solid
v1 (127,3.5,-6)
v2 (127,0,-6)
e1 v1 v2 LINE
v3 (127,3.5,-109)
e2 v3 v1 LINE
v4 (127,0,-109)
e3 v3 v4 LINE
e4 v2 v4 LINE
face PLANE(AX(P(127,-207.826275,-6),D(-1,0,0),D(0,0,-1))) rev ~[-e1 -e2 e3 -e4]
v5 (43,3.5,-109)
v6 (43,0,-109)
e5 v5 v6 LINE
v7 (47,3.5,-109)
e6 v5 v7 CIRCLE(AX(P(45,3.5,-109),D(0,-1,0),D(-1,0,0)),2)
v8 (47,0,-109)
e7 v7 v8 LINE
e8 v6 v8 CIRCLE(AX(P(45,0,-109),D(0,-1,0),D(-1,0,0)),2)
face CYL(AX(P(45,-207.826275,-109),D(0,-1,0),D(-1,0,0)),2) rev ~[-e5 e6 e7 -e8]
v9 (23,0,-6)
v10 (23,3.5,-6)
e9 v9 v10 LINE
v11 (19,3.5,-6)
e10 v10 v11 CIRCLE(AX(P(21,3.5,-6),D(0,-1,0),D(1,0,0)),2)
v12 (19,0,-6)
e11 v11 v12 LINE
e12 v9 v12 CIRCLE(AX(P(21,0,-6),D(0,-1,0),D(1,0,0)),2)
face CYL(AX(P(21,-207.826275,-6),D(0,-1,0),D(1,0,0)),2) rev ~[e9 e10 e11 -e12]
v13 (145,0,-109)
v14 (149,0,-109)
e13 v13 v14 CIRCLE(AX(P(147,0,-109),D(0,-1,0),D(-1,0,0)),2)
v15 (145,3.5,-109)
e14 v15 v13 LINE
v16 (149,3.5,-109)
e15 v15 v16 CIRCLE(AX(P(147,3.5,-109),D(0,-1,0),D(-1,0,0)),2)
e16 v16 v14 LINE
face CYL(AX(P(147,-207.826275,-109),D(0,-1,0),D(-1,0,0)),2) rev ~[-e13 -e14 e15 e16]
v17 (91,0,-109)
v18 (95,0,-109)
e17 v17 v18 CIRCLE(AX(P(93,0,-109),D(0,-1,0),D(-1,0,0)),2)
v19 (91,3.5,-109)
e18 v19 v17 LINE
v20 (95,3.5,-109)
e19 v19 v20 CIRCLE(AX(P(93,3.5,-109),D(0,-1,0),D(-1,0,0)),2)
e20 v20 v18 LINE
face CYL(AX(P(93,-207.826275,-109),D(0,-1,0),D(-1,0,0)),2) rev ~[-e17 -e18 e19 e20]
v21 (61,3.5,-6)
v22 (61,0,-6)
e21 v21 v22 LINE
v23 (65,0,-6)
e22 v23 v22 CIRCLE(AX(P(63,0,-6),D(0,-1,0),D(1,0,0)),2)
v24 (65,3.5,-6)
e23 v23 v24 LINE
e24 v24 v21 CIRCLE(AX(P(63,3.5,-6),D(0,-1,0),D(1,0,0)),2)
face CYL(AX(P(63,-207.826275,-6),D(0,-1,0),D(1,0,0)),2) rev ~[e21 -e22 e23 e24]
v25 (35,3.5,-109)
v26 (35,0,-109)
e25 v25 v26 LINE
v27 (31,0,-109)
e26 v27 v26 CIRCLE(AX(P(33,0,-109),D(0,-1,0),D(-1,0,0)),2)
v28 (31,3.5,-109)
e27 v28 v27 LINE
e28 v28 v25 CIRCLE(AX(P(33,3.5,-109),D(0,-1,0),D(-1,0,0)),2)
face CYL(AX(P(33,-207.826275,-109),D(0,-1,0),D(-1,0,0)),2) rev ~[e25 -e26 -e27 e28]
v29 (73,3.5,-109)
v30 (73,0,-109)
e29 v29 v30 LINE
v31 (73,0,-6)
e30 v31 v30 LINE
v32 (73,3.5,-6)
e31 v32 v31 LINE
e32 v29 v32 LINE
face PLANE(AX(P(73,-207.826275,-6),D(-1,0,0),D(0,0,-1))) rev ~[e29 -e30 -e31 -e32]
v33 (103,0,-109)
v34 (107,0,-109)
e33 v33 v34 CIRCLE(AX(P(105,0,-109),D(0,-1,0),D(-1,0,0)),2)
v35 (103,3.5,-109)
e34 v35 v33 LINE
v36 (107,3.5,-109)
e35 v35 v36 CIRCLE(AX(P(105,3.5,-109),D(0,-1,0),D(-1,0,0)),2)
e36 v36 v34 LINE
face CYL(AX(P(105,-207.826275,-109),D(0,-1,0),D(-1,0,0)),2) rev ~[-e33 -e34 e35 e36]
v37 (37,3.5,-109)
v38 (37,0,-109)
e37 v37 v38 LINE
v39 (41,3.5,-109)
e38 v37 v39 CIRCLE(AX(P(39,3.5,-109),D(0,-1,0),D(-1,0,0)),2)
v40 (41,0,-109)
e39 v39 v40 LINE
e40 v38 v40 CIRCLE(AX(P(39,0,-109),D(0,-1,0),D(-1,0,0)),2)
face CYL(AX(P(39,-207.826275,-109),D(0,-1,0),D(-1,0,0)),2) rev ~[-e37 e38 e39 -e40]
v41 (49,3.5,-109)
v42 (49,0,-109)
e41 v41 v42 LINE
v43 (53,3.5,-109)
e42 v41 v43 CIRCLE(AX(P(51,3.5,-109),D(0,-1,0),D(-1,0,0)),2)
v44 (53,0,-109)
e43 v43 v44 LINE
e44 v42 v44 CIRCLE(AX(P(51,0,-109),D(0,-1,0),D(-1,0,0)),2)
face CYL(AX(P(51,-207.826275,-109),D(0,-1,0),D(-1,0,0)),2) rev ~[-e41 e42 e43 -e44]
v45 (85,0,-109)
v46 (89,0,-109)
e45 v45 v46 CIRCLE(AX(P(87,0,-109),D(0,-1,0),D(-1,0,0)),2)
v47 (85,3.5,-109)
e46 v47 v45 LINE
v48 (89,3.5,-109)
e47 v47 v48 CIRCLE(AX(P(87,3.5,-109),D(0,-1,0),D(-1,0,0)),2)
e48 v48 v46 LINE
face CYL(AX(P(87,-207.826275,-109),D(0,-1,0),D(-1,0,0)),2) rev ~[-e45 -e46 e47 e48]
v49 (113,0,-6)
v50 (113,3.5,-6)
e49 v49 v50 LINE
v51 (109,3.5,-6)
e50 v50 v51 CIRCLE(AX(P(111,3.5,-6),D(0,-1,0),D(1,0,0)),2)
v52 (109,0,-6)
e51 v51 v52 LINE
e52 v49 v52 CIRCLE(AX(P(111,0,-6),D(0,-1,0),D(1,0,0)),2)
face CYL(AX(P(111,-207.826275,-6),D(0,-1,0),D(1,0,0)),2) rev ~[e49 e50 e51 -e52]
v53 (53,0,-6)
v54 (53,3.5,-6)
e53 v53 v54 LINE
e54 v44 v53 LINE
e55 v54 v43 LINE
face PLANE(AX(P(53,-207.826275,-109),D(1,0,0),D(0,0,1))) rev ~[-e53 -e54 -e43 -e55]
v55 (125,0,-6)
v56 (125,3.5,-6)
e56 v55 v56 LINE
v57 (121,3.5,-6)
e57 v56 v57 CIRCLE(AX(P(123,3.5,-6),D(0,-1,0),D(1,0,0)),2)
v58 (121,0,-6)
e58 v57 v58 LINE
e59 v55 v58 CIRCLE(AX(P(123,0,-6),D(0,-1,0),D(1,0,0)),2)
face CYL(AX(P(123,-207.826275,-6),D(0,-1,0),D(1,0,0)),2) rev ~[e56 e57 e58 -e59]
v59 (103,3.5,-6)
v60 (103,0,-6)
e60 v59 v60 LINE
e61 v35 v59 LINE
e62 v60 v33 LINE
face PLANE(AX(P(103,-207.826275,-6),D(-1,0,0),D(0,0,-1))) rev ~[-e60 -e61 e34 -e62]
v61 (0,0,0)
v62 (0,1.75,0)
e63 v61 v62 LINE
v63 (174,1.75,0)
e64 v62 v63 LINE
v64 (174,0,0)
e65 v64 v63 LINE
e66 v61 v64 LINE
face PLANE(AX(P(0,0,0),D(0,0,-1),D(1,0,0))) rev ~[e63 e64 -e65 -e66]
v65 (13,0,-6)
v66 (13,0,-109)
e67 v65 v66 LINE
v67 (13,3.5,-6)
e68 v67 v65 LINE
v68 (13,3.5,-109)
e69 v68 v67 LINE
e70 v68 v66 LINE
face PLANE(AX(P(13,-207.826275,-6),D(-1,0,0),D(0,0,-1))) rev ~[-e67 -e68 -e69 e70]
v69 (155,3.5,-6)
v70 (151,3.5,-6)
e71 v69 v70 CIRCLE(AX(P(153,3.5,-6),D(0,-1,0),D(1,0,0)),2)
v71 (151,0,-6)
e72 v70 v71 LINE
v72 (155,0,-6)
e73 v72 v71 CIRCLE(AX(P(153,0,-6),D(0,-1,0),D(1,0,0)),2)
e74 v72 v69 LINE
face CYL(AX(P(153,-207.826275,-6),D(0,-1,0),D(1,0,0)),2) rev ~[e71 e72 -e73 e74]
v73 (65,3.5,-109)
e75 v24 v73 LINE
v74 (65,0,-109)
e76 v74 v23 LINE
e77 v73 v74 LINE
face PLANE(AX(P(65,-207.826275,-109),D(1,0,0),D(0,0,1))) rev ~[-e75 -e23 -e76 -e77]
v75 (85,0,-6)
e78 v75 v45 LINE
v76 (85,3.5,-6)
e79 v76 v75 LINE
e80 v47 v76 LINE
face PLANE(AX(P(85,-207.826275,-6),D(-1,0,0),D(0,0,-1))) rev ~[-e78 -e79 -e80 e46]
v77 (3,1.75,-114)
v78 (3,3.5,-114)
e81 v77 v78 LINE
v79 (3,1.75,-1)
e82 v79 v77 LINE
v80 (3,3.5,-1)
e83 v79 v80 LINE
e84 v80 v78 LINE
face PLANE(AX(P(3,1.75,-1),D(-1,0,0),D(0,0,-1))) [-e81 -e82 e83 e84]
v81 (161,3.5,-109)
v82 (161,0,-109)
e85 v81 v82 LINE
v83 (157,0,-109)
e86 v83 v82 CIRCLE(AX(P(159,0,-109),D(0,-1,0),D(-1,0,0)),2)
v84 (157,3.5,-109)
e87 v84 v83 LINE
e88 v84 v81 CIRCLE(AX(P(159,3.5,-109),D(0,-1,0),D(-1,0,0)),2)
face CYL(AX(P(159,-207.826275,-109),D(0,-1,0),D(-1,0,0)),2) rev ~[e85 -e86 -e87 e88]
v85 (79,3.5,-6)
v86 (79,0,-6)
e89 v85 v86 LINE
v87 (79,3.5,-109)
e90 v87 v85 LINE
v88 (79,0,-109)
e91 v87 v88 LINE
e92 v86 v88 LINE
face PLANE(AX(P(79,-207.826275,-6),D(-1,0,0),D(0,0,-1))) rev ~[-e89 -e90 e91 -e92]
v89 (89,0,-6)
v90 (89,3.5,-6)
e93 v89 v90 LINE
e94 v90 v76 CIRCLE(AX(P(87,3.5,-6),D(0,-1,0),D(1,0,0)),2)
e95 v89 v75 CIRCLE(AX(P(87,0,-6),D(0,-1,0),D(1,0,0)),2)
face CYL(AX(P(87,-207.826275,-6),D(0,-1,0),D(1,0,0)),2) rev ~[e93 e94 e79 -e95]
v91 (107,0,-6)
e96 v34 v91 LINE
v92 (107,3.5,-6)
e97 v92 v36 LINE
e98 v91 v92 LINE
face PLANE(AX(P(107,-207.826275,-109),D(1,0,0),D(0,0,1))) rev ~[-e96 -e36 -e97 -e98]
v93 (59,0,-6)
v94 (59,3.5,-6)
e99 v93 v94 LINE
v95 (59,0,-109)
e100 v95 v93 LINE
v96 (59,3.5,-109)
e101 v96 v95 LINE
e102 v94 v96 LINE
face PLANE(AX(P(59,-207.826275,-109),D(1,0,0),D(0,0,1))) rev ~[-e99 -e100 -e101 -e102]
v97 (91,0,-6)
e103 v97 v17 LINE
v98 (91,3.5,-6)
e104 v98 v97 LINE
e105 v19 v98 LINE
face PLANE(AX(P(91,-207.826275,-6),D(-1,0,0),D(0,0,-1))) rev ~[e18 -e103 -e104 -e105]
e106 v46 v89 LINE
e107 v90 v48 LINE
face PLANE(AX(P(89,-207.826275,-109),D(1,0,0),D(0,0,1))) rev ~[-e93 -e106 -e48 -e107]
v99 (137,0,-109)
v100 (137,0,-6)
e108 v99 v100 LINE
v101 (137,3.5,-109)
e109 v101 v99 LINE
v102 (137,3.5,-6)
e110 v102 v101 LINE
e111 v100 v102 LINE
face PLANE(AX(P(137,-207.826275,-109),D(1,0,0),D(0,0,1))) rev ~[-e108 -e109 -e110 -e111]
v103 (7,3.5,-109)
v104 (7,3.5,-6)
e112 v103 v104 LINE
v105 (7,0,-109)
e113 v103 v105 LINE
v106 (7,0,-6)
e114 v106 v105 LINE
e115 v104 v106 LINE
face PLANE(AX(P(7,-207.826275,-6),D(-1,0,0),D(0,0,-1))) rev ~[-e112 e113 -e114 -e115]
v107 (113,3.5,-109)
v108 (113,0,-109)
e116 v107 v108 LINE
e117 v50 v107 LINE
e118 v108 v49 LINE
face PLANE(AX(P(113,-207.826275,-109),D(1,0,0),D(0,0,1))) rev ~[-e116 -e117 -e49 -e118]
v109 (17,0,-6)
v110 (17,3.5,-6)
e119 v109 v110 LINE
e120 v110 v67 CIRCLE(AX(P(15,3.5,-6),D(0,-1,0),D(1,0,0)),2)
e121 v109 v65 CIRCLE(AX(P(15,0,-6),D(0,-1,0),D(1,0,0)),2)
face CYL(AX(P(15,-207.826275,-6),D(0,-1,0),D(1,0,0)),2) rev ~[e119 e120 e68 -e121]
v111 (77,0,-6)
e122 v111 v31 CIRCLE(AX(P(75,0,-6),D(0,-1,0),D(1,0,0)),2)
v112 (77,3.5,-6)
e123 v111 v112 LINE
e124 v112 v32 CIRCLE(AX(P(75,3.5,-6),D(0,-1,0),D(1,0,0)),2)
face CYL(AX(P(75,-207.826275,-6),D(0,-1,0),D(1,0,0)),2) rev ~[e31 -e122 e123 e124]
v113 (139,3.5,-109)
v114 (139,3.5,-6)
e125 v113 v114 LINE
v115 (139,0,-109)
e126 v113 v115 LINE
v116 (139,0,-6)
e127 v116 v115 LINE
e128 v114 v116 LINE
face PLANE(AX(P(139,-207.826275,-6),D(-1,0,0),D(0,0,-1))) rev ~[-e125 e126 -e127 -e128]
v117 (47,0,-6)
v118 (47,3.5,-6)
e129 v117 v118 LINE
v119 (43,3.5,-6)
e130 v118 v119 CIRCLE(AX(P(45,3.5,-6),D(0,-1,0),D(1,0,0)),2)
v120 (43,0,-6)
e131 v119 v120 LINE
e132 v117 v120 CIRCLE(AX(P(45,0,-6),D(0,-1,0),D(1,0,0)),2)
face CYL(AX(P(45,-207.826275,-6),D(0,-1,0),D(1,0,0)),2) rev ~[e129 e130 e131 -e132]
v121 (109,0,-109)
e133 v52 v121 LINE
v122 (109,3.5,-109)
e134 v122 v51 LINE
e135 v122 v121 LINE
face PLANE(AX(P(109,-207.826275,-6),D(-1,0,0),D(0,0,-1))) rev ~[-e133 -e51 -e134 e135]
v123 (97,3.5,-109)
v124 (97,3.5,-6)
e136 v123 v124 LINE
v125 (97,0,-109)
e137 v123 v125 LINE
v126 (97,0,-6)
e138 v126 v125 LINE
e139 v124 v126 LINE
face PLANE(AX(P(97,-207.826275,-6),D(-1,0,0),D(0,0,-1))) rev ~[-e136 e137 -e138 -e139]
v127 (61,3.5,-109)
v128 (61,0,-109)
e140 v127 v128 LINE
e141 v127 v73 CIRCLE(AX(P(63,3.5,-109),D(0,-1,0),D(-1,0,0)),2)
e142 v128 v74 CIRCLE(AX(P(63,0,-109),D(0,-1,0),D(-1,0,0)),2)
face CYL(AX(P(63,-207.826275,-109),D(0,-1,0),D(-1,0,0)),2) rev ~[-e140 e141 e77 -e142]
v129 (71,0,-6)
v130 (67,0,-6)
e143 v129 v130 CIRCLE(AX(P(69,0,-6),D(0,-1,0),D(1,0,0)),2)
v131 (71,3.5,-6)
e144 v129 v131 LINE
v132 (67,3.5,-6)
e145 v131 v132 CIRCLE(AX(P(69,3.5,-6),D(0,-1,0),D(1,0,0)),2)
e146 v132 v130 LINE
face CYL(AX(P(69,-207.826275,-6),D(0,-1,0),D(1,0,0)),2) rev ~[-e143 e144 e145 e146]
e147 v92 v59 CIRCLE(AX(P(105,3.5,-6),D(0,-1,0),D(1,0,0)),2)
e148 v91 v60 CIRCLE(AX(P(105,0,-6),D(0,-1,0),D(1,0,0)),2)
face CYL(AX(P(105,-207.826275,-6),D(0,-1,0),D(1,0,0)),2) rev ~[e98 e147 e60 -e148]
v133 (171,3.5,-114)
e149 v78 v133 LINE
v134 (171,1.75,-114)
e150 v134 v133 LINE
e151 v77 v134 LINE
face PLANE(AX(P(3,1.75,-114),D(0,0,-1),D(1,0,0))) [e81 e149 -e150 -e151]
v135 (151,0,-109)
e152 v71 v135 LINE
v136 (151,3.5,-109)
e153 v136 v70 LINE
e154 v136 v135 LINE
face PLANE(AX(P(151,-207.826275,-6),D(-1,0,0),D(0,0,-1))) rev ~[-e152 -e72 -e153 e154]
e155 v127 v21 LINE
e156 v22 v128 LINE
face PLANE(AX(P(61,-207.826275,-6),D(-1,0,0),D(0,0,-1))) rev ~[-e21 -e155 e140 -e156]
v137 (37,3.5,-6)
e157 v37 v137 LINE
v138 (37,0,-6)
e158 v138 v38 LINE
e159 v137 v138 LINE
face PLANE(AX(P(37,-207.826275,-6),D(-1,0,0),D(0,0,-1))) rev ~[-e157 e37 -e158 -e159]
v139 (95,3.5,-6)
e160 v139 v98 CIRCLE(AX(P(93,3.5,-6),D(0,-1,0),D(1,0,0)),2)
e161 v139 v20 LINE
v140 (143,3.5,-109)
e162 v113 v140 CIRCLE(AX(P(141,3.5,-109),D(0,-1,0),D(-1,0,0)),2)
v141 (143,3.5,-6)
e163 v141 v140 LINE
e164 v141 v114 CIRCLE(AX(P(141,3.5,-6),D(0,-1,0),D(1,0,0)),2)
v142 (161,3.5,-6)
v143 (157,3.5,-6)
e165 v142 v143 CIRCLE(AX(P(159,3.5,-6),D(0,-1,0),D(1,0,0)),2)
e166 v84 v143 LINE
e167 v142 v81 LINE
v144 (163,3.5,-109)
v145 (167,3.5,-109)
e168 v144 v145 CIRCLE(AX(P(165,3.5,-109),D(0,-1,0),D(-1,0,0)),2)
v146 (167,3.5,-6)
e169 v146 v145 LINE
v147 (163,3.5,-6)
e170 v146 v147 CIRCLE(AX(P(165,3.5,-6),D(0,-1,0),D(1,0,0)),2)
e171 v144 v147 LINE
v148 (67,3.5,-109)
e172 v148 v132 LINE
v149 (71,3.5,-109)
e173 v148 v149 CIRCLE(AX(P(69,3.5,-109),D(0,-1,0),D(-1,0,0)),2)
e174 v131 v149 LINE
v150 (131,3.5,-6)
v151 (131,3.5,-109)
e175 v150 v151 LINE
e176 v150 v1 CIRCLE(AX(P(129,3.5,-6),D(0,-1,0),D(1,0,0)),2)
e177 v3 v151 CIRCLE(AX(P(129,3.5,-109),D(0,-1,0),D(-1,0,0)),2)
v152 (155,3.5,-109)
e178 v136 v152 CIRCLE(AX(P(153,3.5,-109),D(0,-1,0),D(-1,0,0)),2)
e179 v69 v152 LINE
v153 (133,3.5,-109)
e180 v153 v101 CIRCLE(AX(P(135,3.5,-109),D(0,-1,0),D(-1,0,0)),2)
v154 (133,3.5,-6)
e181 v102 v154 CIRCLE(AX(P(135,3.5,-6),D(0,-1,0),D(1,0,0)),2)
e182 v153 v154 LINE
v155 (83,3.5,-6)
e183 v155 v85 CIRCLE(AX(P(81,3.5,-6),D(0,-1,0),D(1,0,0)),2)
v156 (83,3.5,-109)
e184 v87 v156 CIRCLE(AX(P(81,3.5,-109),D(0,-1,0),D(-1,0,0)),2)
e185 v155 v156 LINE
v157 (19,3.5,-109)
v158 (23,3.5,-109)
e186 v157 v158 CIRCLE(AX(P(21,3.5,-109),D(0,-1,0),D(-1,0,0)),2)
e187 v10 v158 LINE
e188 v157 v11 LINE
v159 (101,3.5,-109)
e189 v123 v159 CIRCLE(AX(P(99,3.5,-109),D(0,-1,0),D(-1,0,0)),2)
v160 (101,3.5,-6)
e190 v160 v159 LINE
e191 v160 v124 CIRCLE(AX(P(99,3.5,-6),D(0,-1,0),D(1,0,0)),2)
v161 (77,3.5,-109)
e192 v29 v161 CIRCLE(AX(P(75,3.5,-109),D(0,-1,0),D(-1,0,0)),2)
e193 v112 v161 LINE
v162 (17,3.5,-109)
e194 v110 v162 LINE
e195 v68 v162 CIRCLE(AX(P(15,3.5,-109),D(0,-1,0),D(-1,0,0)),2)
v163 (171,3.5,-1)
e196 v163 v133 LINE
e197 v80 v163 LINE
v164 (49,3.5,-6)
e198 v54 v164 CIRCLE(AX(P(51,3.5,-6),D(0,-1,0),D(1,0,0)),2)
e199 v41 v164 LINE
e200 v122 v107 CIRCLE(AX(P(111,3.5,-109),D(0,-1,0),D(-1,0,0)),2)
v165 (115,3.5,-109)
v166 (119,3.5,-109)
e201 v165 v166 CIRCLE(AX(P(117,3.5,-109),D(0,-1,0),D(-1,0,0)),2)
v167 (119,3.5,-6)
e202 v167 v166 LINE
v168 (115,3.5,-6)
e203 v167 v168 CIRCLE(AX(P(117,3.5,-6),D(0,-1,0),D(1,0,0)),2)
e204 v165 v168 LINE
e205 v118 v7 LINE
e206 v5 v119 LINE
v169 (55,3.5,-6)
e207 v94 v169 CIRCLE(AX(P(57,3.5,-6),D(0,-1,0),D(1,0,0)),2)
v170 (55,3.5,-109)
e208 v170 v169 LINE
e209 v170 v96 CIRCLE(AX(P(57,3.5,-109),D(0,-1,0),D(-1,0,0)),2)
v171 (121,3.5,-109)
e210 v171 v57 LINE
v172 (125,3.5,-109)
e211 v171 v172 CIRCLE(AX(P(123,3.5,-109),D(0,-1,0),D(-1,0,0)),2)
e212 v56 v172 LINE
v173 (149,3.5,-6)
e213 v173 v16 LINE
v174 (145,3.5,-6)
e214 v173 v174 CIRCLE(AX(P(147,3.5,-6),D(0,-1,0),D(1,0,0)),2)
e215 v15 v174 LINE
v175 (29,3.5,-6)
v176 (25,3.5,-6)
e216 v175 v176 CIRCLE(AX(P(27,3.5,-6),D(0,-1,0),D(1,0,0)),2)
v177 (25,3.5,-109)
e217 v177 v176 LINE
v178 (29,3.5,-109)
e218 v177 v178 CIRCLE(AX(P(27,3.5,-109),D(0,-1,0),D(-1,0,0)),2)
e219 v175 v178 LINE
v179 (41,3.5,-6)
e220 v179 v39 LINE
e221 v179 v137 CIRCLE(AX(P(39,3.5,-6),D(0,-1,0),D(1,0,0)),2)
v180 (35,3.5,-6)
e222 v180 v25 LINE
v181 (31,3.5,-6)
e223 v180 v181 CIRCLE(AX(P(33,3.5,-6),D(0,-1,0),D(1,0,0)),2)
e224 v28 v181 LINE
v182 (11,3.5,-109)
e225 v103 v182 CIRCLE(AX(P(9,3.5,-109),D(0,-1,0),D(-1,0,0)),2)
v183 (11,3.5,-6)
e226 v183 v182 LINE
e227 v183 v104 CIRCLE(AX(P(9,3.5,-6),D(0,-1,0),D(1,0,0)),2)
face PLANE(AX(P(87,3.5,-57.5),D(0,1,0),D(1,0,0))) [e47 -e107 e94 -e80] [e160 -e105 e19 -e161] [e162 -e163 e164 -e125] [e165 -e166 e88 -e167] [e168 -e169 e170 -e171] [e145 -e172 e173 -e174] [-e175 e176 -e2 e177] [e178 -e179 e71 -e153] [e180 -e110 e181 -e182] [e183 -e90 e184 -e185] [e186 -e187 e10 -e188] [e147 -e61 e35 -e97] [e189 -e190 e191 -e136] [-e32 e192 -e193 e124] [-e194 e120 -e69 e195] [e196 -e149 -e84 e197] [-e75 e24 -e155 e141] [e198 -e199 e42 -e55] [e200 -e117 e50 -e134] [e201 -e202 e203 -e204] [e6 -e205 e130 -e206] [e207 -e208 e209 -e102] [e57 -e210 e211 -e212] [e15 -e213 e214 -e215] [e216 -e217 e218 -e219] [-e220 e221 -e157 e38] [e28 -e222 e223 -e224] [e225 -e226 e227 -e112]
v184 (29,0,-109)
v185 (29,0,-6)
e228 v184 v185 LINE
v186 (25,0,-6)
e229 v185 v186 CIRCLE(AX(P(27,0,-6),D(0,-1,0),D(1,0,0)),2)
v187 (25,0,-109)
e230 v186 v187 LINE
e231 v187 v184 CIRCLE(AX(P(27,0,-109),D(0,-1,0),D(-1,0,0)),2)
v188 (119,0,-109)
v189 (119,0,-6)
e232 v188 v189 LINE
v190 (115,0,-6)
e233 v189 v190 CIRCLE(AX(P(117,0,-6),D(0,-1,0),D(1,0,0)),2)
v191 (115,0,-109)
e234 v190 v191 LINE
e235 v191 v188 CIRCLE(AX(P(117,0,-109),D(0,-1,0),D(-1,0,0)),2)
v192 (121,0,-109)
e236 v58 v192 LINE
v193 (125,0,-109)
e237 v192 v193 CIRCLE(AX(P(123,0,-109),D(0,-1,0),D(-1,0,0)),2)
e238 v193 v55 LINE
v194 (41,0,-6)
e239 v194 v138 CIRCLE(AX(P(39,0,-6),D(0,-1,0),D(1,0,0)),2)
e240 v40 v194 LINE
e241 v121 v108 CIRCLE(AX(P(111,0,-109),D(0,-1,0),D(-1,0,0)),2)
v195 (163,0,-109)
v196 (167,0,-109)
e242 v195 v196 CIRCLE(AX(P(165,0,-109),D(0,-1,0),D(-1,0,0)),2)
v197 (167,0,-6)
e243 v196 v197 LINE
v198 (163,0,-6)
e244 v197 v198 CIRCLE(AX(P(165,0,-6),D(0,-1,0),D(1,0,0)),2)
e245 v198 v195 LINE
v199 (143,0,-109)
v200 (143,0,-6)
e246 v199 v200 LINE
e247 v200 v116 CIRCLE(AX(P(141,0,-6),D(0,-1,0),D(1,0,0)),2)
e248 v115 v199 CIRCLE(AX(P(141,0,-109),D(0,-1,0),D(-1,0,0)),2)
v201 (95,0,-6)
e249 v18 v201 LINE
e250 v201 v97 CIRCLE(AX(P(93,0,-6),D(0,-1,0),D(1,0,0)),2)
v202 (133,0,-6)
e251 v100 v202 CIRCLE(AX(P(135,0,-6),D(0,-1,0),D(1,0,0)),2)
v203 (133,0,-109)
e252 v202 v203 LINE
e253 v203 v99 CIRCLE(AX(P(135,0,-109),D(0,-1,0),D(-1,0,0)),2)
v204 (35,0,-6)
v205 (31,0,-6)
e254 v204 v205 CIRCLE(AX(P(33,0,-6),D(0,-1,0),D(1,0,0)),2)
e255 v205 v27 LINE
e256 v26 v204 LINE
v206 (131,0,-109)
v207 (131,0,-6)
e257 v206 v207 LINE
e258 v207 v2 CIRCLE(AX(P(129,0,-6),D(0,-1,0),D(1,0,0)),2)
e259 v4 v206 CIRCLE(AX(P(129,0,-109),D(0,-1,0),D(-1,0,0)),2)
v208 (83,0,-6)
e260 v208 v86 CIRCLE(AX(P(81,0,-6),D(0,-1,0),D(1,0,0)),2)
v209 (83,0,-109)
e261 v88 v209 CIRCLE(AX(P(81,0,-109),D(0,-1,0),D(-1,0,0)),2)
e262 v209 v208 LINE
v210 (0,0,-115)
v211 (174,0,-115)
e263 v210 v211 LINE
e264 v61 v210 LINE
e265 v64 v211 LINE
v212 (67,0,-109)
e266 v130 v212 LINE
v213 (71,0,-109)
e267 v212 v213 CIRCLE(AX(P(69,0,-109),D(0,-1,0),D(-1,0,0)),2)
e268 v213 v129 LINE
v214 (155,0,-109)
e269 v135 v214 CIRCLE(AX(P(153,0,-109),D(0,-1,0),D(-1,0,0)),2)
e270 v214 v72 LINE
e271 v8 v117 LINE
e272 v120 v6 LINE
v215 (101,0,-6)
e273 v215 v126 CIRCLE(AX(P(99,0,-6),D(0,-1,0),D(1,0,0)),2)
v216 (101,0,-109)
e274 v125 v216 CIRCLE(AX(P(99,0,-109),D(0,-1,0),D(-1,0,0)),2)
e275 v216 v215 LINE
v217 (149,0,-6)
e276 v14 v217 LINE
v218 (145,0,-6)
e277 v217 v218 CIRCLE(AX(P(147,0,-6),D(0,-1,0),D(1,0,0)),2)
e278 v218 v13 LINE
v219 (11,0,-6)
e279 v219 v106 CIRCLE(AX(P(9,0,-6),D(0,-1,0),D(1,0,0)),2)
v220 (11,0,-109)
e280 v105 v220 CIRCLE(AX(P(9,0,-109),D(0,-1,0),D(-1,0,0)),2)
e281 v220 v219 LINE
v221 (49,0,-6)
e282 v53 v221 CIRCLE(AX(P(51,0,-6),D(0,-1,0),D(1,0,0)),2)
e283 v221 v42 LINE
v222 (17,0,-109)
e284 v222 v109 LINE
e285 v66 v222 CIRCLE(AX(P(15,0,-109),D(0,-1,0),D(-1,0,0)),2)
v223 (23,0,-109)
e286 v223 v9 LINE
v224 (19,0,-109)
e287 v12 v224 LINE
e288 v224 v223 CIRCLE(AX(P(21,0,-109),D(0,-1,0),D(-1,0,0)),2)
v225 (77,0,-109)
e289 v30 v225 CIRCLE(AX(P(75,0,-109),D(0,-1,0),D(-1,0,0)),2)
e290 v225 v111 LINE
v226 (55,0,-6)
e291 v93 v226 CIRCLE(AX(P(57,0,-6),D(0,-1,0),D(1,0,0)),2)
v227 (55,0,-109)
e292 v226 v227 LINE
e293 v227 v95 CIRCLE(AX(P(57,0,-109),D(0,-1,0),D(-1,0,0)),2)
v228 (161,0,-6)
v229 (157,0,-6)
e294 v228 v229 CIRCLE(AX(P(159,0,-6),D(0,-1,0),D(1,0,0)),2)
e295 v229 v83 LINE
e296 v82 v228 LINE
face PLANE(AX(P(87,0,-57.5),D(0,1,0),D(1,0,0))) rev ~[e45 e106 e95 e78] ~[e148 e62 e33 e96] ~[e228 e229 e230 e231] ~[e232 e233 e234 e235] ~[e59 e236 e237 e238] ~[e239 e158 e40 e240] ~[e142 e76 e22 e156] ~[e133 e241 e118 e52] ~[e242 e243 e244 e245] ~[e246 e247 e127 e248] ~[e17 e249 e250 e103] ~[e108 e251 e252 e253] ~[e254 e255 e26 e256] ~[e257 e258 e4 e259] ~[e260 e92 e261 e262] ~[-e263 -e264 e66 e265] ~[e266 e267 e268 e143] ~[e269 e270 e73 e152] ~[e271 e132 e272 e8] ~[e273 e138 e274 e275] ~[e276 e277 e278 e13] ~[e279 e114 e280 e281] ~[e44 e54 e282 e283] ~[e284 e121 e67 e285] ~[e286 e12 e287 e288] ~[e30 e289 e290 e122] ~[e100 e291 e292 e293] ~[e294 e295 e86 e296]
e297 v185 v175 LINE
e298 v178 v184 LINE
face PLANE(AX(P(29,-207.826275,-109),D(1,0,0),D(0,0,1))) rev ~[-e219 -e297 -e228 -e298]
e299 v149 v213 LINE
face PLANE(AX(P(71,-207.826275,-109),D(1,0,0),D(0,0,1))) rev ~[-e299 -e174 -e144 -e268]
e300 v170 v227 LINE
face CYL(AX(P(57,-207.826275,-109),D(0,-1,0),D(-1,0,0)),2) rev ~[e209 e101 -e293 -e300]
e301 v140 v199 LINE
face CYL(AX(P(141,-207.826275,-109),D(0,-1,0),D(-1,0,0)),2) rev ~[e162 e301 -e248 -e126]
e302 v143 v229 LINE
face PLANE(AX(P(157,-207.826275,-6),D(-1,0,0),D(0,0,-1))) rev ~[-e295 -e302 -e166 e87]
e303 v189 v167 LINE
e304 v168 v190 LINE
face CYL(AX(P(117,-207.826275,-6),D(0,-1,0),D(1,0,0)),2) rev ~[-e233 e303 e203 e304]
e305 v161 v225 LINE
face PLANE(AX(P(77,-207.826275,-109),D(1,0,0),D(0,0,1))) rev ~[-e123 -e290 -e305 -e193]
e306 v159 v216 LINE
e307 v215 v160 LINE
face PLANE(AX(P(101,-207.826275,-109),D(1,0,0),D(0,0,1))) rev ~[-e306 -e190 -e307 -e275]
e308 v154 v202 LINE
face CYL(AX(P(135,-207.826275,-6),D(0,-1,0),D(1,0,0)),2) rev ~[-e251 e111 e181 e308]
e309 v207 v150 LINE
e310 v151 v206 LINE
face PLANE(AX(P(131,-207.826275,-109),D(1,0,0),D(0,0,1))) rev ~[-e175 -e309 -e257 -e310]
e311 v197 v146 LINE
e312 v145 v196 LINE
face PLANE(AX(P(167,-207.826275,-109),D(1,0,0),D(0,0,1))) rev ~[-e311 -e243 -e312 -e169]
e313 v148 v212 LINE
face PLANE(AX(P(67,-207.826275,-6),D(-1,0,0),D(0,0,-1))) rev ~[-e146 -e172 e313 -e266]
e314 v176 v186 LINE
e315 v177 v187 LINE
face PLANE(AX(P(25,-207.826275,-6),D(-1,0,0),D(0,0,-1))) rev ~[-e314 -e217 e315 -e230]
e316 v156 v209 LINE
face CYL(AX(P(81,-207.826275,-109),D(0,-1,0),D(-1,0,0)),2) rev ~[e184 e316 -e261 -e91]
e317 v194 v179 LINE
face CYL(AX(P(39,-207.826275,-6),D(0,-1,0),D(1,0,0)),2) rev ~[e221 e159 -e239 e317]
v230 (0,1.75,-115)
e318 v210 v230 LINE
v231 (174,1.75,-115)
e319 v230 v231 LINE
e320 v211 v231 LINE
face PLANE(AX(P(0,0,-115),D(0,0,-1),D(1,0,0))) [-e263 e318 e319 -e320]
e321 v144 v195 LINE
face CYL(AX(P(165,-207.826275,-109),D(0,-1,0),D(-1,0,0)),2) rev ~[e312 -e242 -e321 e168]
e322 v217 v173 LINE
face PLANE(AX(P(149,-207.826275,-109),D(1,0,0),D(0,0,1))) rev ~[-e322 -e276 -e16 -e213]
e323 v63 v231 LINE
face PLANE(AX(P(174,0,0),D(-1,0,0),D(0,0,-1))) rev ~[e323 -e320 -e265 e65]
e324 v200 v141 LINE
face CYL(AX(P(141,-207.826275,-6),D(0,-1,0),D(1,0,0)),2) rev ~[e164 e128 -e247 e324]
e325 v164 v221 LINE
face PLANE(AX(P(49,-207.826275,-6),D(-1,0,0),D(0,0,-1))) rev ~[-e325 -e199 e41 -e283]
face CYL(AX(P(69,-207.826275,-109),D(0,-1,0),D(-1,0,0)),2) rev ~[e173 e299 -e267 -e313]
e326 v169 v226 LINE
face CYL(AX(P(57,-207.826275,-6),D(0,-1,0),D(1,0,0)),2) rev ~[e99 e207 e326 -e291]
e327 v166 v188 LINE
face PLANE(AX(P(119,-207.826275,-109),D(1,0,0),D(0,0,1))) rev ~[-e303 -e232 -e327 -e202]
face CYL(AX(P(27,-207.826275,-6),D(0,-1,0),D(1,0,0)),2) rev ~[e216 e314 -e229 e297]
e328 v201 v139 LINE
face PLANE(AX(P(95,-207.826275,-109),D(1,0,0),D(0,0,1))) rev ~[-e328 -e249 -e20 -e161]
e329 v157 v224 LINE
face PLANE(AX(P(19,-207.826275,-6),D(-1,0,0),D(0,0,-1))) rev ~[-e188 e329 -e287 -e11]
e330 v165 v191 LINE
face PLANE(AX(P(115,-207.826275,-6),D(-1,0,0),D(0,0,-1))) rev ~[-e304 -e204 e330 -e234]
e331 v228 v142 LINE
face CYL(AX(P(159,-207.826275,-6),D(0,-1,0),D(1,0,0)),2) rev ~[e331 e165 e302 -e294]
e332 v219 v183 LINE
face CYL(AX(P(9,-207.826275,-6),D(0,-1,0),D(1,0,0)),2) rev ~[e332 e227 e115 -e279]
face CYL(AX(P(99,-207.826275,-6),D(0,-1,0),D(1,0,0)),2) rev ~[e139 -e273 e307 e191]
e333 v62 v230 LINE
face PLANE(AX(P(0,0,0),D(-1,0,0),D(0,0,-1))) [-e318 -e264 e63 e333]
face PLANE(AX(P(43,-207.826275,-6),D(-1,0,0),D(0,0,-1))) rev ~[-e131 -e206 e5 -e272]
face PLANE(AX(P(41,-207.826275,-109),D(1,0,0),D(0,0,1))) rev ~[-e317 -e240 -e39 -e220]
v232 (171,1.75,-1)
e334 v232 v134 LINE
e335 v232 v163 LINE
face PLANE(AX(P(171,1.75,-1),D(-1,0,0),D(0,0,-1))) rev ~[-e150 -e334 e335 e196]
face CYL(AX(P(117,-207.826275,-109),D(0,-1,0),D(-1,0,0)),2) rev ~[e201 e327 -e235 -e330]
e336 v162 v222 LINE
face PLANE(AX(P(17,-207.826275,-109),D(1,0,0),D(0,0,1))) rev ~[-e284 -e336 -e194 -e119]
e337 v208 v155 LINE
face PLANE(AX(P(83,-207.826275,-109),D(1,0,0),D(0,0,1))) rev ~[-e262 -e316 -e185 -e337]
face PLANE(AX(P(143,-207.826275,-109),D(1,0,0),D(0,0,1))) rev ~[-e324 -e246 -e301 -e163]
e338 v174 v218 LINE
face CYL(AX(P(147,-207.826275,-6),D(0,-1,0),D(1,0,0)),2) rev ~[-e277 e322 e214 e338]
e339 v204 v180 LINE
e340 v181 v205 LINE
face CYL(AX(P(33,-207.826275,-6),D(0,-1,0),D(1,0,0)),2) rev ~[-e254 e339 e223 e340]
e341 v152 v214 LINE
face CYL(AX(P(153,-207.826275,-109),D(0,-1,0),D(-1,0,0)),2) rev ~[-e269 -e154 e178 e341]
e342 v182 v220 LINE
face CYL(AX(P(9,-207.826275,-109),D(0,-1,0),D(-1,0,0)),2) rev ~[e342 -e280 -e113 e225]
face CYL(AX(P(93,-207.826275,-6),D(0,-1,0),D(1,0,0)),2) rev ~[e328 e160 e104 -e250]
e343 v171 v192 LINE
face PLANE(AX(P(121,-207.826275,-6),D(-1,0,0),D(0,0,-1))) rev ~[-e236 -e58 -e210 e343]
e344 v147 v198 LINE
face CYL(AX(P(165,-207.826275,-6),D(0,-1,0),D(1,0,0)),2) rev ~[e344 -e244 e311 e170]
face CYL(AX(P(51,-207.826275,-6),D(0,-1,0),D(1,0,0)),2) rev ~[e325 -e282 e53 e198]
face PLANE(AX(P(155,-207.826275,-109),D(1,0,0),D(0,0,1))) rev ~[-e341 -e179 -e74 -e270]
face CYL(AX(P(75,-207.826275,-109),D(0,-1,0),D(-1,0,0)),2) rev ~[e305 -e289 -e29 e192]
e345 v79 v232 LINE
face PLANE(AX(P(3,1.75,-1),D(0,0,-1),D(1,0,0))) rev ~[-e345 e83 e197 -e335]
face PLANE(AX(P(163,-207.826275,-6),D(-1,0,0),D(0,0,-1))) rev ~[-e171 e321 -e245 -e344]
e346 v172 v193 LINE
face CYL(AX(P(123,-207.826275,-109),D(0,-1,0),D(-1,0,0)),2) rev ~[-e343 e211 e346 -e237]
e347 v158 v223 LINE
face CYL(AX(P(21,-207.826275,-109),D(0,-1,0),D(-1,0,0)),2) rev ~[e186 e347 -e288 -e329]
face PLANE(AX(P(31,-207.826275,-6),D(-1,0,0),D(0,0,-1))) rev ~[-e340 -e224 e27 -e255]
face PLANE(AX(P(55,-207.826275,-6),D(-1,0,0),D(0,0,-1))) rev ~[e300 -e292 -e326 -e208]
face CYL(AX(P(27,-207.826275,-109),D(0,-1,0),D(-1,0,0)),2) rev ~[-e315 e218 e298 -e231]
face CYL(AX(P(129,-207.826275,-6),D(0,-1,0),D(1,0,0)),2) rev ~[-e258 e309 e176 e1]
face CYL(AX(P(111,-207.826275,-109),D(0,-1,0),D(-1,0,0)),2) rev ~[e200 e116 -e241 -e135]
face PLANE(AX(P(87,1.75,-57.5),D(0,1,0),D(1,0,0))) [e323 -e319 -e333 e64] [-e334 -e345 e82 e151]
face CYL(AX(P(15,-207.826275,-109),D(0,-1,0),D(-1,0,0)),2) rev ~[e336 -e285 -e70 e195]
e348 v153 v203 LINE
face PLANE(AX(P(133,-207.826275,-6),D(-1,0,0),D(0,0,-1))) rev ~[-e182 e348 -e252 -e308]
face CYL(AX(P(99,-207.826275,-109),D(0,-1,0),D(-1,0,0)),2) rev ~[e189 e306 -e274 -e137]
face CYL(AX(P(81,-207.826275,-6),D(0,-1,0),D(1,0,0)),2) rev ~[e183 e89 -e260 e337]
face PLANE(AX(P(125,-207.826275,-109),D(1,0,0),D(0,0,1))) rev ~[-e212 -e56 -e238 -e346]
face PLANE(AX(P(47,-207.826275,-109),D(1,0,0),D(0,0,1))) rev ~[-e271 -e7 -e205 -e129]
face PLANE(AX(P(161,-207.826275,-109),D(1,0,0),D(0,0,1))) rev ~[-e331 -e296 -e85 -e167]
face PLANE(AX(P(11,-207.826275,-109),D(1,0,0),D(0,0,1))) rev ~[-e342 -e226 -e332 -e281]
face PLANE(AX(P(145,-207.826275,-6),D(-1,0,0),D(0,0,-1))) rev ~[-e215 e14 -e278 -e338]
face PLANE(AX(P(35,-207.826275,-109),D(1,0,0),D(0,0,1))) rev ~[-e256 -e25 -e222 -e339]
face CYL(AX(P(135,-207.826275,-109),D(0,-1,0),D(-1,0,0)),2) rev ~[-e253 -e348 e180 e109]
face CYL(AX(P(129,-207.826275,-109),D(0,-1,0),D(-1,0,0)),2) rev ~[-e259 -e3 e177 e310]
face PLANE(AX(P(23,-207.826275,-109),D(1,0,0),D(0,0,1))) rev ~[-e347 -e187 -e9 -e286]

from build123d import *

# Parameters (mm, degrees)
SKETCH1_W               = 174
SKETCH1_H               = 115
BOSS_EXTRUDE1_DEPTH     = 1.75
SKETCH2_W               = 168
SKETCH2_H               = 113
SKETCH2_W_2             = 166
SKETCH2_H_2             = 111
BOSS_EXTRUDE2_DEPTH     = 1.75
CUT_EXTRUDE1_DEPTH      = 1.75
SKETCH4_W               = 166
SKETCH4_H               = 111
BOSS_EXTRUDE3_DEPTH     = 1.75
CUT_EXTRUDE2_DEPTH      = 209.576275017
CUT_EXTRUDE2_DEPTH_BACK = 209.576275017


with BuildPart() as part:
    # Sketch1 → Boss-Extrude1 (new body)
    with BuildSketch(Plane(origin=(0, 0, 0), x_dir=(1, 0, 0), z_dir=(0, 1, 0))):
        with Locations((87, 57.5)):
            Rectangle(SKETCH1_W, SKETCH1_H)
    extrude(amount=BOSS_EXTRUDE1_DEPTH)

    # Sketch2 → Boss-Extrude2 (add)
    with BuildSketch(Plane(origin=(0, 1.75, 0), x_dir=(1, 0, 0), z_dir=(0, 1, 0))):
        with Locations((87, 57.5)):
            Rectangle(SKETCH2_W, SKETCH2_H)
        with Locations((87, 57.5)):
            Rectangle(SKETCH2_W_2, SKETCH2_H_2, mode=Mode.SUBTRACT)
    extrude(amount=BOSS_EXTRUDE2_DEPTH)

    # Sketch3 → Cut-Extrude1 (cut)
    with BuildSketch(Plane(origin=(0, 1.75, 0), x_dir=(1, 0, 0), z_dir=(0, 1, 0))):
        with BuildLine():
            Line((11, 109), (11, 6))
            ThreePointArc((11, 6), (9, 4), (7, 6))
            Line((7, 6), (7, 109))
            ThreePointArc((7, 109), (9, 111), (11, 109))
        make_face()
        with BuildLine():
            Line((17, 109), (17, 6))
            ThreePointArc((17, 6), (15, 4), (13, 6))
            Line((13, 6), (13, 109))
            ThreePointArc((13, 109), (15, 111), (17, 109))
        make_face()
        with BuildLine():
            Line((23, 109), (23, 6))
            ThreePointArc((23, 6), (21, 4), (19, 6))
            Line((19, 6), (19, 109))
            ThreePointArc((19, 109), (21, 111), (23, 109))
        make_face()
        with BuildLine():
            Line((29, 109), (29, 6))
            ThreePointArc((29, 6), (27, 4), (25, 6))
            Line((25, 6), (25, 109))
            ThreePointArc((25, 109), (27, 111), (29, 109))
        make_face()
        with BuildLine():
            Line((35, 109), (35, 6))
            ThreePointArc((35, 6), (33, 4), (31, 6))
            Line((31, 6), (31, 109))
            ThreePointArc((31, 109), (33, 111), (35, 109))
        make_face()
        with BuildLine():
            Line((41, 109), (41, 6))
            ThreePointArc((41, 6), (39, 4), (37, 6))
            Line((37, 6), (37, 109))
            ThreePointArc((37, 109), (39, 111), (41, 109))
        make_face()
        with BuildLine():
            Line((47, 109), (47, 6))
            ThreePointArc((47, 6), (45, 4), (43, 6))
            Line((43, 6), (43, 109))
            ThreePointArc((43, 109), (45, 111), (47, 109))
        make_face()
        with BuildLine():
            Line((53, 109), (53, 6))
            ThreePointArc((53, 6), (51, 4), (49, 6))
            Line((49, 6), (49, 109))
            ThreePointArc((49, 109), (51, 111), (53, 109))
        make_face()
        with BuildLine():
            Line((59, 109), (59, 6))
            ThreePointArc((59, 6), (57, 4), (55, 6))
            Line((55, 6), (55, 109))
            ThreePointArc((55, 109), (57, 111), (59, 109))
        make_face()
        with BuildLine():
            Line((65, 109), (65, 6))
            ThreePointArc((65, 6), (63, 4), (61, 6))
            Line((61, 6), (61, 109))
            ThreePointArc((61, 109), (63, 111), (65, 109))
        make_face()
        with BuildLine():
            Line((71, 109), (71, 6))
            ThreePointArc((71, 6), (69, 4), (67, 6))
            Line((67, 6), (67, 109))
            ThreePointArc((67, 109), (69, 111), (71, 109))
        make_face()
        with BuildLine():
            Line((77, 109), (77, 6))
            ThreePointArc((77, 6), (75, 4), (73, 6))
            Line((73, 6), (73, 109))
            ThreePointArc((73, 109), (75, 111), (77, 109))
        make_face()
        with BuildLine():
            Line((83, 109), (83, 6))
            ThreePointArc((83, 6), (81, 4), (79, 6))
            Line((79, 6), (79, 109))
            ThreePointArc((79, 109), (81, 111), (83, 109))
        make_face()
        with BuildLine():
            Line((89, 109), (89, 6))
            ThreePointArc((89, 6), (87, 4), (85, 6))
            Line((85, 6), (85, 109))
            ThreePointArc((85, 109), (87, 111), (89, 109))
        make_face()
        with BuildLine():
            Line((95, 109), (95, 6))
            ThreePointArc((95, 6), (93, 4), (91, 6))
            Line((91, 6), (91, 109))
            ThreePointArc((91, 109), (93, 111), (95, 109))
        make_face()
        with BuildLine():
            Line((101, 109), (101, 6))
            ThreePointArc((101, 6), (99, 4), (97, 6))
            Line((97, 6), (97, 109))
            ThreePointArc((97, 109), (99, 111), (101, 109))
        make_face()
        with BuildLine():
            Line((107, 109), (107, 6))
            ThreePointArc((107, 6), (105, 4), (103, 6))
            Line((103, 6), (103, 109))
            ThreePointArc((103, 109), (105, 111), (107, 109))
        make_face()
        with BuildLine():
            Line((113, 109), (113, 6))
            ThreePointArc((113, 6), (111, 4), (109, 6))
            Line((109, 6), (109, 109))
            ThreePointArc((109, 109), (111, 111), (113, 109))
        make_face()
        with BuildLine():
            Line((119, 109), (119, 6))
            ThreePointArc((119, 6), (117, 4), (115, 6))
            Line((115, 6), (115, 109))
            ThreePointArc((115, 109), (117, 111), (119, 109))
        make_face()
        with BuildLine():
            Line((125, 109), (125, 6))
            ThreePointArc((125, 6), (123, 4), (121, 6))
            Line((121, 6), (121, 109))
            ThreePointArc((121, 109), (123, 111), (125, 109))
        make_face()
        with BuildLine():
            Line((131, 109), (131, 6))
            ThreePointArc((131, 6), (129, 4), (127, 6))
            Line((127, 6), (127, 109))
            ThreePointArc((127, 109), (129, 111), (131, 109))
        make_face()
        with BuildLine():
            Line((137, 109), (137, 6))
            ThreePointArc((137, 6), (135, 4), (133, 6))
            Line((133, 6), (133, 109))
            ThreePointArc((133, 109), (135, 111), (137, 109))
        make_face()
        with BuildLine():
            Line((143, 109), (143, 6))
            ThreePointArc((143, 6), (141, 4), (139, 6))
            Line((139, 6), (139, 109))
            ThreePointArc((139, 109), (141, 111), (143, 109))
        make_face()
        with BuildLine():
            Line((149, 109), (149, 6))
            ThreePointArc((149, 6), (147, 4), (145, 6))
            Line((145, 6), (145, 109))
            ThreePointArc((145, 109), (147, 111), (149, 109))
        make_face()
        with BuildLine():
            Line((155, 109), (155, 6))
            ThreePointArc((155, 6), (153, 4), (151, 6))
            Line((151, 6), (151, 109))
            ThreePointArc((151, 109), (153, 111), (155, 109))
        make_face()
        with BuildLine():
            Line((161, 109), (161, 6))
            ThreePointArc((161, 6), (159, 4), (157, 6))
            Line((157, 6), (157, 109))
            ThreePointArc((157, 109), (159, 111), (161, 109))
        make_face()
        with BuildLine():
            Line((167, 109), (167, 6))
            ThreePointArc((167, 6), (165, 4), (163, 6))
            Line((163, 6), (163, 109))
            ThreePointArc((163, 109), (165, 111), (167, 109))
        make_face()
    extrude(amount=-CUT_EXTRUDE1_DEPTH, mode=Mode.SUBTRACT)

    # Sketch4 → Boss-Extrude3 (add)
    with BuildSketch(Plane(origin=(0, 3.5, 0), x_dir=(1, 0, 0), z_dir=(0, 1, 0))):
        with Locations((87, 57.5)):
            Rectangle(SKETCH4_W, SKETCH4_H)
    extrude(amount=-BOSS_EXTRUDE3_DEPTH)

    # Sketch3<2> → Cut-Extrude2 (cut, two sides: drawn at the far end of the back side and taken through both)
    with BuildSketch(Plane(origin=(0, 1.75, 0), x_dir=(1, 0, 0), z_dir=(0, 1, 0)).offset(-CUT_EXTRUDE2_DEPTH_BACK)):
        with BuildLine():
            Line((11, 109), (11, 6))
            ThreePointArc((11, 6), (9, 4), (7, 6))
            Line((7, 6), (7, 109))
            ThreePointArc((7, 109), (9, 111), (11, 109))
        make_face()
        with BuildLine():
            Line((17, 109), (17, 6))
            ThreePointArc((17, 6), (15, 4), (13, 6))
            Line((13, 6), (13, 109))
            ThreePointArc((13, 109), (15, 111), (17, 109))
        make_face()
        with BuildLine():
            Line((23, 109), (23, 6))
            ThreePointArc((23, 6), (21, 4), (19, 6))
            Line((19, 6), (19, 109))
            ThreePointArc((19, 109), (21, 111), (23, 109))
        make_face()
        with BuildLine():
            Line((29, 109), (29, 6))
            ThreePointArc((29, 6), (27, 4), (25, 6))
            Line((25, 6), (25, 109))
            ThreePointArc((25, 109), (27, 111), (29, 109))
        make_face()
        with BuildLine():
            Line((35, 109), (35, 6))
            ThreePointArc((35, 6), (33, 4), (31, 6))
            Line((31, 6), (31, 109))
            ThreePointArc((31, 109), (33, 111), (35, 109))
        make_face()
        with BuildLine():
            Line((41, 109), (41, 6))
            ThreePointArc((41, 6), (39, 4), (37, 6))
            Line((37, 6), (37, 109))
            ThreePointArc((37, 109), (39, 111), (41, 109))
        make_face()
        with BuildLine():
            Line((47, 109), (47, 6))
            ThreePointArc((47, 6), (45, 4), (43, 6))
            Line((43, 6), (43, 109))
            ThreePointArc((43, 109), (45, 111), (47, 109))
        make_face()
        with BuildLine():
            Line((53, 109), (53, 6))
            ThreePointArc((53, 6), (51, 4), (49, 6))
            Line((49, 6), (49, 109))
            ThreePointArc((49, 109), (51, 111), (53, 109))
        make_face()
        with BuildLine():
            Line((59, 109), (59, 6))
            ThreePointArc((59, 6), (57, 4), (55, 6))
            Line((55, 6), (55, 109))
            ThreePointArc((55, 109), (57, 111), (59, 109))
        make_face()
        with BuildLine():
            Line((65, 109), (65, 6))
            ThreePointArc((65, 6), (63, 4), (61, 6))
            Line((61, 6), (61, 109))
            ThreePointArc((61, 109), (63, 111), (65, 109))
        make_face()
        with BuildLine():
            Line((71, 109), (71, 6))
            ThreePointArc((71, 6), (69, 4), (67, 6))
            Line((67, 6), (67, 109))
            ThreePointArc((67, 109), (69, 111), (71, 109))
        make_face()
        with BuildLine():
            Line((77, 109), (77, 6))
            ThreePointArc((77, 6), (75, 4), (73, 6))
            Line((73, 6), (73, 109))
            ThreePointArc((73, 109), (75, 111), (77, 109))
        make_face()
        with BuildLine():
            Line((83, 109), (83, 6))
            ThreePointArc((83, 6), (81, 4), (79, 6))
            Line((79, 6), (79, 109))
            ThreePointArc((79, 109), (81, 111), (83, 109))
        make_face()
        with BuildLine():
            Line((89, 109), (89, 6))
            ThreePointArc((89, 6), (87, 4), (85, 6))
            Line((85, 6), (85, 109))
            ThreePointArc((85, 109), (87, 111), (89, 109))
        make_face()
        with BuildLine():
            Line((95, 109), (95, 6))
            ThreePointArc((95, 6), (93, 4), (91, 6))
            Line((91, 6), (91, 109))
            ThreePointArc((91, 109), (93, 111), (95, 109))
        make_face()
        with BuildLine():
            Line((101, 109), (101, 6))
            ThreePointArc((101, 6), (99, 4), (97, 6))
            Line((97, 6), (97, 109))
            ThreePointArc((97, 109), (99, 111), (101, 109))
        make_face()
        with BuildLine():
            Line((107, 109), (107, 6))
            ThreePointArc((107, 6), (105, 4), (103, 6))
            Line((103, 6), (103, 109))
            ThreePointArc((103, 109), (105, 111), (107, 109))
        make_face()
        with BuildLine():
            Line((113, 109), (113, 6))
            ThreePointArc((113, 6), (111, 4), (109, 6))
            Line((109, 6), (109, 109))
            ThreePointArc((109, 109), (111, 111), (113, 109))
        make_face()
        with BuildLine():
            Line((119, 109), (119, 6))
            ThreePointArc((119, 6), (117, 4), (115, 6))
            Line((115, 6), (115, 109))
            ThreePointArc((115, 109), (117, 111), (119, 109))
        make_face()
        with BuildLine():
            Line((125, 109), (125, 6))
            ThreePointArc((125, 6), (123, 4), (121, 6))
            Line((121, 6), (121, 109))
            ThreePointArc((121, 109), (123, 111), (125, 109))
        make_face()
        with BuildLine():
            Line((131, 109), (131, 6))
            ThreePointArc((131, 6), (129, 4), (127, 6))
            Line((127, 6), (127, 109))
            ThreePointArc((127, 109), (129, 111), (131, 109))
        make_face()
        with BuildLine():
            Line((137, 109), (137, 6))
            ThreePointArc((137, 6), (135, 4), (133, 6))
            Line((133, 6), (133, 109))
            ThreePointArc((133, 109), (135, 111), (137, 109))
        make_face()
        with BuildLine():
            Line((143, 109), (143, 6))
            ThreePointArc((143, 6), (141, 4), (139, 6))
            Line((139, 6), (139, 109))
            ThreePointArc((139, 109), (141, 111), (143, 109))
        make_face()
        with BuildLine():
            Line((149, 109), (149, 6))
            ThreePointArc((149, 6), (147, 4), (145, 6))
            Line((145, 6), (145, 109))
            ThreePointArc((145, 109), (147, 111), (149, 109))
        make_face()
        with BuildLine():
            Line((155, 109), (155, 6))
            ThreePointArc((155, 6), (153, 4), (151, 6))
            Line((151, 6), (151, 109))
            ThreePointArc((151, 109), (153, 111), (155, 109))
        make_face()
        with BuildLine():
            Line((161, 109), (161, 6))
            ThreePointArc((161, 6), (159, 4), (157, 6))
            Line((157, 6), (157, 109))
            ThreePointArc((157, 109), (159, 111), (161, 109))
        make_face()
        with BuildLine():
            Line((167, 109), (167, 6))
            ThreePointArc((167, 6), (165, 4), (163, 6))
            Line((163, 6), (163, 109))
            ThreePointArc((163, 109), (165, 111), (167, 109))
        make_face()
    extrude(amount=CUT_EXTRUDE2_DEPTH + CUT_EXTRUDE2_DEPTH_BACK, mode=Mode.SUBTRACT)


solid = part.part
